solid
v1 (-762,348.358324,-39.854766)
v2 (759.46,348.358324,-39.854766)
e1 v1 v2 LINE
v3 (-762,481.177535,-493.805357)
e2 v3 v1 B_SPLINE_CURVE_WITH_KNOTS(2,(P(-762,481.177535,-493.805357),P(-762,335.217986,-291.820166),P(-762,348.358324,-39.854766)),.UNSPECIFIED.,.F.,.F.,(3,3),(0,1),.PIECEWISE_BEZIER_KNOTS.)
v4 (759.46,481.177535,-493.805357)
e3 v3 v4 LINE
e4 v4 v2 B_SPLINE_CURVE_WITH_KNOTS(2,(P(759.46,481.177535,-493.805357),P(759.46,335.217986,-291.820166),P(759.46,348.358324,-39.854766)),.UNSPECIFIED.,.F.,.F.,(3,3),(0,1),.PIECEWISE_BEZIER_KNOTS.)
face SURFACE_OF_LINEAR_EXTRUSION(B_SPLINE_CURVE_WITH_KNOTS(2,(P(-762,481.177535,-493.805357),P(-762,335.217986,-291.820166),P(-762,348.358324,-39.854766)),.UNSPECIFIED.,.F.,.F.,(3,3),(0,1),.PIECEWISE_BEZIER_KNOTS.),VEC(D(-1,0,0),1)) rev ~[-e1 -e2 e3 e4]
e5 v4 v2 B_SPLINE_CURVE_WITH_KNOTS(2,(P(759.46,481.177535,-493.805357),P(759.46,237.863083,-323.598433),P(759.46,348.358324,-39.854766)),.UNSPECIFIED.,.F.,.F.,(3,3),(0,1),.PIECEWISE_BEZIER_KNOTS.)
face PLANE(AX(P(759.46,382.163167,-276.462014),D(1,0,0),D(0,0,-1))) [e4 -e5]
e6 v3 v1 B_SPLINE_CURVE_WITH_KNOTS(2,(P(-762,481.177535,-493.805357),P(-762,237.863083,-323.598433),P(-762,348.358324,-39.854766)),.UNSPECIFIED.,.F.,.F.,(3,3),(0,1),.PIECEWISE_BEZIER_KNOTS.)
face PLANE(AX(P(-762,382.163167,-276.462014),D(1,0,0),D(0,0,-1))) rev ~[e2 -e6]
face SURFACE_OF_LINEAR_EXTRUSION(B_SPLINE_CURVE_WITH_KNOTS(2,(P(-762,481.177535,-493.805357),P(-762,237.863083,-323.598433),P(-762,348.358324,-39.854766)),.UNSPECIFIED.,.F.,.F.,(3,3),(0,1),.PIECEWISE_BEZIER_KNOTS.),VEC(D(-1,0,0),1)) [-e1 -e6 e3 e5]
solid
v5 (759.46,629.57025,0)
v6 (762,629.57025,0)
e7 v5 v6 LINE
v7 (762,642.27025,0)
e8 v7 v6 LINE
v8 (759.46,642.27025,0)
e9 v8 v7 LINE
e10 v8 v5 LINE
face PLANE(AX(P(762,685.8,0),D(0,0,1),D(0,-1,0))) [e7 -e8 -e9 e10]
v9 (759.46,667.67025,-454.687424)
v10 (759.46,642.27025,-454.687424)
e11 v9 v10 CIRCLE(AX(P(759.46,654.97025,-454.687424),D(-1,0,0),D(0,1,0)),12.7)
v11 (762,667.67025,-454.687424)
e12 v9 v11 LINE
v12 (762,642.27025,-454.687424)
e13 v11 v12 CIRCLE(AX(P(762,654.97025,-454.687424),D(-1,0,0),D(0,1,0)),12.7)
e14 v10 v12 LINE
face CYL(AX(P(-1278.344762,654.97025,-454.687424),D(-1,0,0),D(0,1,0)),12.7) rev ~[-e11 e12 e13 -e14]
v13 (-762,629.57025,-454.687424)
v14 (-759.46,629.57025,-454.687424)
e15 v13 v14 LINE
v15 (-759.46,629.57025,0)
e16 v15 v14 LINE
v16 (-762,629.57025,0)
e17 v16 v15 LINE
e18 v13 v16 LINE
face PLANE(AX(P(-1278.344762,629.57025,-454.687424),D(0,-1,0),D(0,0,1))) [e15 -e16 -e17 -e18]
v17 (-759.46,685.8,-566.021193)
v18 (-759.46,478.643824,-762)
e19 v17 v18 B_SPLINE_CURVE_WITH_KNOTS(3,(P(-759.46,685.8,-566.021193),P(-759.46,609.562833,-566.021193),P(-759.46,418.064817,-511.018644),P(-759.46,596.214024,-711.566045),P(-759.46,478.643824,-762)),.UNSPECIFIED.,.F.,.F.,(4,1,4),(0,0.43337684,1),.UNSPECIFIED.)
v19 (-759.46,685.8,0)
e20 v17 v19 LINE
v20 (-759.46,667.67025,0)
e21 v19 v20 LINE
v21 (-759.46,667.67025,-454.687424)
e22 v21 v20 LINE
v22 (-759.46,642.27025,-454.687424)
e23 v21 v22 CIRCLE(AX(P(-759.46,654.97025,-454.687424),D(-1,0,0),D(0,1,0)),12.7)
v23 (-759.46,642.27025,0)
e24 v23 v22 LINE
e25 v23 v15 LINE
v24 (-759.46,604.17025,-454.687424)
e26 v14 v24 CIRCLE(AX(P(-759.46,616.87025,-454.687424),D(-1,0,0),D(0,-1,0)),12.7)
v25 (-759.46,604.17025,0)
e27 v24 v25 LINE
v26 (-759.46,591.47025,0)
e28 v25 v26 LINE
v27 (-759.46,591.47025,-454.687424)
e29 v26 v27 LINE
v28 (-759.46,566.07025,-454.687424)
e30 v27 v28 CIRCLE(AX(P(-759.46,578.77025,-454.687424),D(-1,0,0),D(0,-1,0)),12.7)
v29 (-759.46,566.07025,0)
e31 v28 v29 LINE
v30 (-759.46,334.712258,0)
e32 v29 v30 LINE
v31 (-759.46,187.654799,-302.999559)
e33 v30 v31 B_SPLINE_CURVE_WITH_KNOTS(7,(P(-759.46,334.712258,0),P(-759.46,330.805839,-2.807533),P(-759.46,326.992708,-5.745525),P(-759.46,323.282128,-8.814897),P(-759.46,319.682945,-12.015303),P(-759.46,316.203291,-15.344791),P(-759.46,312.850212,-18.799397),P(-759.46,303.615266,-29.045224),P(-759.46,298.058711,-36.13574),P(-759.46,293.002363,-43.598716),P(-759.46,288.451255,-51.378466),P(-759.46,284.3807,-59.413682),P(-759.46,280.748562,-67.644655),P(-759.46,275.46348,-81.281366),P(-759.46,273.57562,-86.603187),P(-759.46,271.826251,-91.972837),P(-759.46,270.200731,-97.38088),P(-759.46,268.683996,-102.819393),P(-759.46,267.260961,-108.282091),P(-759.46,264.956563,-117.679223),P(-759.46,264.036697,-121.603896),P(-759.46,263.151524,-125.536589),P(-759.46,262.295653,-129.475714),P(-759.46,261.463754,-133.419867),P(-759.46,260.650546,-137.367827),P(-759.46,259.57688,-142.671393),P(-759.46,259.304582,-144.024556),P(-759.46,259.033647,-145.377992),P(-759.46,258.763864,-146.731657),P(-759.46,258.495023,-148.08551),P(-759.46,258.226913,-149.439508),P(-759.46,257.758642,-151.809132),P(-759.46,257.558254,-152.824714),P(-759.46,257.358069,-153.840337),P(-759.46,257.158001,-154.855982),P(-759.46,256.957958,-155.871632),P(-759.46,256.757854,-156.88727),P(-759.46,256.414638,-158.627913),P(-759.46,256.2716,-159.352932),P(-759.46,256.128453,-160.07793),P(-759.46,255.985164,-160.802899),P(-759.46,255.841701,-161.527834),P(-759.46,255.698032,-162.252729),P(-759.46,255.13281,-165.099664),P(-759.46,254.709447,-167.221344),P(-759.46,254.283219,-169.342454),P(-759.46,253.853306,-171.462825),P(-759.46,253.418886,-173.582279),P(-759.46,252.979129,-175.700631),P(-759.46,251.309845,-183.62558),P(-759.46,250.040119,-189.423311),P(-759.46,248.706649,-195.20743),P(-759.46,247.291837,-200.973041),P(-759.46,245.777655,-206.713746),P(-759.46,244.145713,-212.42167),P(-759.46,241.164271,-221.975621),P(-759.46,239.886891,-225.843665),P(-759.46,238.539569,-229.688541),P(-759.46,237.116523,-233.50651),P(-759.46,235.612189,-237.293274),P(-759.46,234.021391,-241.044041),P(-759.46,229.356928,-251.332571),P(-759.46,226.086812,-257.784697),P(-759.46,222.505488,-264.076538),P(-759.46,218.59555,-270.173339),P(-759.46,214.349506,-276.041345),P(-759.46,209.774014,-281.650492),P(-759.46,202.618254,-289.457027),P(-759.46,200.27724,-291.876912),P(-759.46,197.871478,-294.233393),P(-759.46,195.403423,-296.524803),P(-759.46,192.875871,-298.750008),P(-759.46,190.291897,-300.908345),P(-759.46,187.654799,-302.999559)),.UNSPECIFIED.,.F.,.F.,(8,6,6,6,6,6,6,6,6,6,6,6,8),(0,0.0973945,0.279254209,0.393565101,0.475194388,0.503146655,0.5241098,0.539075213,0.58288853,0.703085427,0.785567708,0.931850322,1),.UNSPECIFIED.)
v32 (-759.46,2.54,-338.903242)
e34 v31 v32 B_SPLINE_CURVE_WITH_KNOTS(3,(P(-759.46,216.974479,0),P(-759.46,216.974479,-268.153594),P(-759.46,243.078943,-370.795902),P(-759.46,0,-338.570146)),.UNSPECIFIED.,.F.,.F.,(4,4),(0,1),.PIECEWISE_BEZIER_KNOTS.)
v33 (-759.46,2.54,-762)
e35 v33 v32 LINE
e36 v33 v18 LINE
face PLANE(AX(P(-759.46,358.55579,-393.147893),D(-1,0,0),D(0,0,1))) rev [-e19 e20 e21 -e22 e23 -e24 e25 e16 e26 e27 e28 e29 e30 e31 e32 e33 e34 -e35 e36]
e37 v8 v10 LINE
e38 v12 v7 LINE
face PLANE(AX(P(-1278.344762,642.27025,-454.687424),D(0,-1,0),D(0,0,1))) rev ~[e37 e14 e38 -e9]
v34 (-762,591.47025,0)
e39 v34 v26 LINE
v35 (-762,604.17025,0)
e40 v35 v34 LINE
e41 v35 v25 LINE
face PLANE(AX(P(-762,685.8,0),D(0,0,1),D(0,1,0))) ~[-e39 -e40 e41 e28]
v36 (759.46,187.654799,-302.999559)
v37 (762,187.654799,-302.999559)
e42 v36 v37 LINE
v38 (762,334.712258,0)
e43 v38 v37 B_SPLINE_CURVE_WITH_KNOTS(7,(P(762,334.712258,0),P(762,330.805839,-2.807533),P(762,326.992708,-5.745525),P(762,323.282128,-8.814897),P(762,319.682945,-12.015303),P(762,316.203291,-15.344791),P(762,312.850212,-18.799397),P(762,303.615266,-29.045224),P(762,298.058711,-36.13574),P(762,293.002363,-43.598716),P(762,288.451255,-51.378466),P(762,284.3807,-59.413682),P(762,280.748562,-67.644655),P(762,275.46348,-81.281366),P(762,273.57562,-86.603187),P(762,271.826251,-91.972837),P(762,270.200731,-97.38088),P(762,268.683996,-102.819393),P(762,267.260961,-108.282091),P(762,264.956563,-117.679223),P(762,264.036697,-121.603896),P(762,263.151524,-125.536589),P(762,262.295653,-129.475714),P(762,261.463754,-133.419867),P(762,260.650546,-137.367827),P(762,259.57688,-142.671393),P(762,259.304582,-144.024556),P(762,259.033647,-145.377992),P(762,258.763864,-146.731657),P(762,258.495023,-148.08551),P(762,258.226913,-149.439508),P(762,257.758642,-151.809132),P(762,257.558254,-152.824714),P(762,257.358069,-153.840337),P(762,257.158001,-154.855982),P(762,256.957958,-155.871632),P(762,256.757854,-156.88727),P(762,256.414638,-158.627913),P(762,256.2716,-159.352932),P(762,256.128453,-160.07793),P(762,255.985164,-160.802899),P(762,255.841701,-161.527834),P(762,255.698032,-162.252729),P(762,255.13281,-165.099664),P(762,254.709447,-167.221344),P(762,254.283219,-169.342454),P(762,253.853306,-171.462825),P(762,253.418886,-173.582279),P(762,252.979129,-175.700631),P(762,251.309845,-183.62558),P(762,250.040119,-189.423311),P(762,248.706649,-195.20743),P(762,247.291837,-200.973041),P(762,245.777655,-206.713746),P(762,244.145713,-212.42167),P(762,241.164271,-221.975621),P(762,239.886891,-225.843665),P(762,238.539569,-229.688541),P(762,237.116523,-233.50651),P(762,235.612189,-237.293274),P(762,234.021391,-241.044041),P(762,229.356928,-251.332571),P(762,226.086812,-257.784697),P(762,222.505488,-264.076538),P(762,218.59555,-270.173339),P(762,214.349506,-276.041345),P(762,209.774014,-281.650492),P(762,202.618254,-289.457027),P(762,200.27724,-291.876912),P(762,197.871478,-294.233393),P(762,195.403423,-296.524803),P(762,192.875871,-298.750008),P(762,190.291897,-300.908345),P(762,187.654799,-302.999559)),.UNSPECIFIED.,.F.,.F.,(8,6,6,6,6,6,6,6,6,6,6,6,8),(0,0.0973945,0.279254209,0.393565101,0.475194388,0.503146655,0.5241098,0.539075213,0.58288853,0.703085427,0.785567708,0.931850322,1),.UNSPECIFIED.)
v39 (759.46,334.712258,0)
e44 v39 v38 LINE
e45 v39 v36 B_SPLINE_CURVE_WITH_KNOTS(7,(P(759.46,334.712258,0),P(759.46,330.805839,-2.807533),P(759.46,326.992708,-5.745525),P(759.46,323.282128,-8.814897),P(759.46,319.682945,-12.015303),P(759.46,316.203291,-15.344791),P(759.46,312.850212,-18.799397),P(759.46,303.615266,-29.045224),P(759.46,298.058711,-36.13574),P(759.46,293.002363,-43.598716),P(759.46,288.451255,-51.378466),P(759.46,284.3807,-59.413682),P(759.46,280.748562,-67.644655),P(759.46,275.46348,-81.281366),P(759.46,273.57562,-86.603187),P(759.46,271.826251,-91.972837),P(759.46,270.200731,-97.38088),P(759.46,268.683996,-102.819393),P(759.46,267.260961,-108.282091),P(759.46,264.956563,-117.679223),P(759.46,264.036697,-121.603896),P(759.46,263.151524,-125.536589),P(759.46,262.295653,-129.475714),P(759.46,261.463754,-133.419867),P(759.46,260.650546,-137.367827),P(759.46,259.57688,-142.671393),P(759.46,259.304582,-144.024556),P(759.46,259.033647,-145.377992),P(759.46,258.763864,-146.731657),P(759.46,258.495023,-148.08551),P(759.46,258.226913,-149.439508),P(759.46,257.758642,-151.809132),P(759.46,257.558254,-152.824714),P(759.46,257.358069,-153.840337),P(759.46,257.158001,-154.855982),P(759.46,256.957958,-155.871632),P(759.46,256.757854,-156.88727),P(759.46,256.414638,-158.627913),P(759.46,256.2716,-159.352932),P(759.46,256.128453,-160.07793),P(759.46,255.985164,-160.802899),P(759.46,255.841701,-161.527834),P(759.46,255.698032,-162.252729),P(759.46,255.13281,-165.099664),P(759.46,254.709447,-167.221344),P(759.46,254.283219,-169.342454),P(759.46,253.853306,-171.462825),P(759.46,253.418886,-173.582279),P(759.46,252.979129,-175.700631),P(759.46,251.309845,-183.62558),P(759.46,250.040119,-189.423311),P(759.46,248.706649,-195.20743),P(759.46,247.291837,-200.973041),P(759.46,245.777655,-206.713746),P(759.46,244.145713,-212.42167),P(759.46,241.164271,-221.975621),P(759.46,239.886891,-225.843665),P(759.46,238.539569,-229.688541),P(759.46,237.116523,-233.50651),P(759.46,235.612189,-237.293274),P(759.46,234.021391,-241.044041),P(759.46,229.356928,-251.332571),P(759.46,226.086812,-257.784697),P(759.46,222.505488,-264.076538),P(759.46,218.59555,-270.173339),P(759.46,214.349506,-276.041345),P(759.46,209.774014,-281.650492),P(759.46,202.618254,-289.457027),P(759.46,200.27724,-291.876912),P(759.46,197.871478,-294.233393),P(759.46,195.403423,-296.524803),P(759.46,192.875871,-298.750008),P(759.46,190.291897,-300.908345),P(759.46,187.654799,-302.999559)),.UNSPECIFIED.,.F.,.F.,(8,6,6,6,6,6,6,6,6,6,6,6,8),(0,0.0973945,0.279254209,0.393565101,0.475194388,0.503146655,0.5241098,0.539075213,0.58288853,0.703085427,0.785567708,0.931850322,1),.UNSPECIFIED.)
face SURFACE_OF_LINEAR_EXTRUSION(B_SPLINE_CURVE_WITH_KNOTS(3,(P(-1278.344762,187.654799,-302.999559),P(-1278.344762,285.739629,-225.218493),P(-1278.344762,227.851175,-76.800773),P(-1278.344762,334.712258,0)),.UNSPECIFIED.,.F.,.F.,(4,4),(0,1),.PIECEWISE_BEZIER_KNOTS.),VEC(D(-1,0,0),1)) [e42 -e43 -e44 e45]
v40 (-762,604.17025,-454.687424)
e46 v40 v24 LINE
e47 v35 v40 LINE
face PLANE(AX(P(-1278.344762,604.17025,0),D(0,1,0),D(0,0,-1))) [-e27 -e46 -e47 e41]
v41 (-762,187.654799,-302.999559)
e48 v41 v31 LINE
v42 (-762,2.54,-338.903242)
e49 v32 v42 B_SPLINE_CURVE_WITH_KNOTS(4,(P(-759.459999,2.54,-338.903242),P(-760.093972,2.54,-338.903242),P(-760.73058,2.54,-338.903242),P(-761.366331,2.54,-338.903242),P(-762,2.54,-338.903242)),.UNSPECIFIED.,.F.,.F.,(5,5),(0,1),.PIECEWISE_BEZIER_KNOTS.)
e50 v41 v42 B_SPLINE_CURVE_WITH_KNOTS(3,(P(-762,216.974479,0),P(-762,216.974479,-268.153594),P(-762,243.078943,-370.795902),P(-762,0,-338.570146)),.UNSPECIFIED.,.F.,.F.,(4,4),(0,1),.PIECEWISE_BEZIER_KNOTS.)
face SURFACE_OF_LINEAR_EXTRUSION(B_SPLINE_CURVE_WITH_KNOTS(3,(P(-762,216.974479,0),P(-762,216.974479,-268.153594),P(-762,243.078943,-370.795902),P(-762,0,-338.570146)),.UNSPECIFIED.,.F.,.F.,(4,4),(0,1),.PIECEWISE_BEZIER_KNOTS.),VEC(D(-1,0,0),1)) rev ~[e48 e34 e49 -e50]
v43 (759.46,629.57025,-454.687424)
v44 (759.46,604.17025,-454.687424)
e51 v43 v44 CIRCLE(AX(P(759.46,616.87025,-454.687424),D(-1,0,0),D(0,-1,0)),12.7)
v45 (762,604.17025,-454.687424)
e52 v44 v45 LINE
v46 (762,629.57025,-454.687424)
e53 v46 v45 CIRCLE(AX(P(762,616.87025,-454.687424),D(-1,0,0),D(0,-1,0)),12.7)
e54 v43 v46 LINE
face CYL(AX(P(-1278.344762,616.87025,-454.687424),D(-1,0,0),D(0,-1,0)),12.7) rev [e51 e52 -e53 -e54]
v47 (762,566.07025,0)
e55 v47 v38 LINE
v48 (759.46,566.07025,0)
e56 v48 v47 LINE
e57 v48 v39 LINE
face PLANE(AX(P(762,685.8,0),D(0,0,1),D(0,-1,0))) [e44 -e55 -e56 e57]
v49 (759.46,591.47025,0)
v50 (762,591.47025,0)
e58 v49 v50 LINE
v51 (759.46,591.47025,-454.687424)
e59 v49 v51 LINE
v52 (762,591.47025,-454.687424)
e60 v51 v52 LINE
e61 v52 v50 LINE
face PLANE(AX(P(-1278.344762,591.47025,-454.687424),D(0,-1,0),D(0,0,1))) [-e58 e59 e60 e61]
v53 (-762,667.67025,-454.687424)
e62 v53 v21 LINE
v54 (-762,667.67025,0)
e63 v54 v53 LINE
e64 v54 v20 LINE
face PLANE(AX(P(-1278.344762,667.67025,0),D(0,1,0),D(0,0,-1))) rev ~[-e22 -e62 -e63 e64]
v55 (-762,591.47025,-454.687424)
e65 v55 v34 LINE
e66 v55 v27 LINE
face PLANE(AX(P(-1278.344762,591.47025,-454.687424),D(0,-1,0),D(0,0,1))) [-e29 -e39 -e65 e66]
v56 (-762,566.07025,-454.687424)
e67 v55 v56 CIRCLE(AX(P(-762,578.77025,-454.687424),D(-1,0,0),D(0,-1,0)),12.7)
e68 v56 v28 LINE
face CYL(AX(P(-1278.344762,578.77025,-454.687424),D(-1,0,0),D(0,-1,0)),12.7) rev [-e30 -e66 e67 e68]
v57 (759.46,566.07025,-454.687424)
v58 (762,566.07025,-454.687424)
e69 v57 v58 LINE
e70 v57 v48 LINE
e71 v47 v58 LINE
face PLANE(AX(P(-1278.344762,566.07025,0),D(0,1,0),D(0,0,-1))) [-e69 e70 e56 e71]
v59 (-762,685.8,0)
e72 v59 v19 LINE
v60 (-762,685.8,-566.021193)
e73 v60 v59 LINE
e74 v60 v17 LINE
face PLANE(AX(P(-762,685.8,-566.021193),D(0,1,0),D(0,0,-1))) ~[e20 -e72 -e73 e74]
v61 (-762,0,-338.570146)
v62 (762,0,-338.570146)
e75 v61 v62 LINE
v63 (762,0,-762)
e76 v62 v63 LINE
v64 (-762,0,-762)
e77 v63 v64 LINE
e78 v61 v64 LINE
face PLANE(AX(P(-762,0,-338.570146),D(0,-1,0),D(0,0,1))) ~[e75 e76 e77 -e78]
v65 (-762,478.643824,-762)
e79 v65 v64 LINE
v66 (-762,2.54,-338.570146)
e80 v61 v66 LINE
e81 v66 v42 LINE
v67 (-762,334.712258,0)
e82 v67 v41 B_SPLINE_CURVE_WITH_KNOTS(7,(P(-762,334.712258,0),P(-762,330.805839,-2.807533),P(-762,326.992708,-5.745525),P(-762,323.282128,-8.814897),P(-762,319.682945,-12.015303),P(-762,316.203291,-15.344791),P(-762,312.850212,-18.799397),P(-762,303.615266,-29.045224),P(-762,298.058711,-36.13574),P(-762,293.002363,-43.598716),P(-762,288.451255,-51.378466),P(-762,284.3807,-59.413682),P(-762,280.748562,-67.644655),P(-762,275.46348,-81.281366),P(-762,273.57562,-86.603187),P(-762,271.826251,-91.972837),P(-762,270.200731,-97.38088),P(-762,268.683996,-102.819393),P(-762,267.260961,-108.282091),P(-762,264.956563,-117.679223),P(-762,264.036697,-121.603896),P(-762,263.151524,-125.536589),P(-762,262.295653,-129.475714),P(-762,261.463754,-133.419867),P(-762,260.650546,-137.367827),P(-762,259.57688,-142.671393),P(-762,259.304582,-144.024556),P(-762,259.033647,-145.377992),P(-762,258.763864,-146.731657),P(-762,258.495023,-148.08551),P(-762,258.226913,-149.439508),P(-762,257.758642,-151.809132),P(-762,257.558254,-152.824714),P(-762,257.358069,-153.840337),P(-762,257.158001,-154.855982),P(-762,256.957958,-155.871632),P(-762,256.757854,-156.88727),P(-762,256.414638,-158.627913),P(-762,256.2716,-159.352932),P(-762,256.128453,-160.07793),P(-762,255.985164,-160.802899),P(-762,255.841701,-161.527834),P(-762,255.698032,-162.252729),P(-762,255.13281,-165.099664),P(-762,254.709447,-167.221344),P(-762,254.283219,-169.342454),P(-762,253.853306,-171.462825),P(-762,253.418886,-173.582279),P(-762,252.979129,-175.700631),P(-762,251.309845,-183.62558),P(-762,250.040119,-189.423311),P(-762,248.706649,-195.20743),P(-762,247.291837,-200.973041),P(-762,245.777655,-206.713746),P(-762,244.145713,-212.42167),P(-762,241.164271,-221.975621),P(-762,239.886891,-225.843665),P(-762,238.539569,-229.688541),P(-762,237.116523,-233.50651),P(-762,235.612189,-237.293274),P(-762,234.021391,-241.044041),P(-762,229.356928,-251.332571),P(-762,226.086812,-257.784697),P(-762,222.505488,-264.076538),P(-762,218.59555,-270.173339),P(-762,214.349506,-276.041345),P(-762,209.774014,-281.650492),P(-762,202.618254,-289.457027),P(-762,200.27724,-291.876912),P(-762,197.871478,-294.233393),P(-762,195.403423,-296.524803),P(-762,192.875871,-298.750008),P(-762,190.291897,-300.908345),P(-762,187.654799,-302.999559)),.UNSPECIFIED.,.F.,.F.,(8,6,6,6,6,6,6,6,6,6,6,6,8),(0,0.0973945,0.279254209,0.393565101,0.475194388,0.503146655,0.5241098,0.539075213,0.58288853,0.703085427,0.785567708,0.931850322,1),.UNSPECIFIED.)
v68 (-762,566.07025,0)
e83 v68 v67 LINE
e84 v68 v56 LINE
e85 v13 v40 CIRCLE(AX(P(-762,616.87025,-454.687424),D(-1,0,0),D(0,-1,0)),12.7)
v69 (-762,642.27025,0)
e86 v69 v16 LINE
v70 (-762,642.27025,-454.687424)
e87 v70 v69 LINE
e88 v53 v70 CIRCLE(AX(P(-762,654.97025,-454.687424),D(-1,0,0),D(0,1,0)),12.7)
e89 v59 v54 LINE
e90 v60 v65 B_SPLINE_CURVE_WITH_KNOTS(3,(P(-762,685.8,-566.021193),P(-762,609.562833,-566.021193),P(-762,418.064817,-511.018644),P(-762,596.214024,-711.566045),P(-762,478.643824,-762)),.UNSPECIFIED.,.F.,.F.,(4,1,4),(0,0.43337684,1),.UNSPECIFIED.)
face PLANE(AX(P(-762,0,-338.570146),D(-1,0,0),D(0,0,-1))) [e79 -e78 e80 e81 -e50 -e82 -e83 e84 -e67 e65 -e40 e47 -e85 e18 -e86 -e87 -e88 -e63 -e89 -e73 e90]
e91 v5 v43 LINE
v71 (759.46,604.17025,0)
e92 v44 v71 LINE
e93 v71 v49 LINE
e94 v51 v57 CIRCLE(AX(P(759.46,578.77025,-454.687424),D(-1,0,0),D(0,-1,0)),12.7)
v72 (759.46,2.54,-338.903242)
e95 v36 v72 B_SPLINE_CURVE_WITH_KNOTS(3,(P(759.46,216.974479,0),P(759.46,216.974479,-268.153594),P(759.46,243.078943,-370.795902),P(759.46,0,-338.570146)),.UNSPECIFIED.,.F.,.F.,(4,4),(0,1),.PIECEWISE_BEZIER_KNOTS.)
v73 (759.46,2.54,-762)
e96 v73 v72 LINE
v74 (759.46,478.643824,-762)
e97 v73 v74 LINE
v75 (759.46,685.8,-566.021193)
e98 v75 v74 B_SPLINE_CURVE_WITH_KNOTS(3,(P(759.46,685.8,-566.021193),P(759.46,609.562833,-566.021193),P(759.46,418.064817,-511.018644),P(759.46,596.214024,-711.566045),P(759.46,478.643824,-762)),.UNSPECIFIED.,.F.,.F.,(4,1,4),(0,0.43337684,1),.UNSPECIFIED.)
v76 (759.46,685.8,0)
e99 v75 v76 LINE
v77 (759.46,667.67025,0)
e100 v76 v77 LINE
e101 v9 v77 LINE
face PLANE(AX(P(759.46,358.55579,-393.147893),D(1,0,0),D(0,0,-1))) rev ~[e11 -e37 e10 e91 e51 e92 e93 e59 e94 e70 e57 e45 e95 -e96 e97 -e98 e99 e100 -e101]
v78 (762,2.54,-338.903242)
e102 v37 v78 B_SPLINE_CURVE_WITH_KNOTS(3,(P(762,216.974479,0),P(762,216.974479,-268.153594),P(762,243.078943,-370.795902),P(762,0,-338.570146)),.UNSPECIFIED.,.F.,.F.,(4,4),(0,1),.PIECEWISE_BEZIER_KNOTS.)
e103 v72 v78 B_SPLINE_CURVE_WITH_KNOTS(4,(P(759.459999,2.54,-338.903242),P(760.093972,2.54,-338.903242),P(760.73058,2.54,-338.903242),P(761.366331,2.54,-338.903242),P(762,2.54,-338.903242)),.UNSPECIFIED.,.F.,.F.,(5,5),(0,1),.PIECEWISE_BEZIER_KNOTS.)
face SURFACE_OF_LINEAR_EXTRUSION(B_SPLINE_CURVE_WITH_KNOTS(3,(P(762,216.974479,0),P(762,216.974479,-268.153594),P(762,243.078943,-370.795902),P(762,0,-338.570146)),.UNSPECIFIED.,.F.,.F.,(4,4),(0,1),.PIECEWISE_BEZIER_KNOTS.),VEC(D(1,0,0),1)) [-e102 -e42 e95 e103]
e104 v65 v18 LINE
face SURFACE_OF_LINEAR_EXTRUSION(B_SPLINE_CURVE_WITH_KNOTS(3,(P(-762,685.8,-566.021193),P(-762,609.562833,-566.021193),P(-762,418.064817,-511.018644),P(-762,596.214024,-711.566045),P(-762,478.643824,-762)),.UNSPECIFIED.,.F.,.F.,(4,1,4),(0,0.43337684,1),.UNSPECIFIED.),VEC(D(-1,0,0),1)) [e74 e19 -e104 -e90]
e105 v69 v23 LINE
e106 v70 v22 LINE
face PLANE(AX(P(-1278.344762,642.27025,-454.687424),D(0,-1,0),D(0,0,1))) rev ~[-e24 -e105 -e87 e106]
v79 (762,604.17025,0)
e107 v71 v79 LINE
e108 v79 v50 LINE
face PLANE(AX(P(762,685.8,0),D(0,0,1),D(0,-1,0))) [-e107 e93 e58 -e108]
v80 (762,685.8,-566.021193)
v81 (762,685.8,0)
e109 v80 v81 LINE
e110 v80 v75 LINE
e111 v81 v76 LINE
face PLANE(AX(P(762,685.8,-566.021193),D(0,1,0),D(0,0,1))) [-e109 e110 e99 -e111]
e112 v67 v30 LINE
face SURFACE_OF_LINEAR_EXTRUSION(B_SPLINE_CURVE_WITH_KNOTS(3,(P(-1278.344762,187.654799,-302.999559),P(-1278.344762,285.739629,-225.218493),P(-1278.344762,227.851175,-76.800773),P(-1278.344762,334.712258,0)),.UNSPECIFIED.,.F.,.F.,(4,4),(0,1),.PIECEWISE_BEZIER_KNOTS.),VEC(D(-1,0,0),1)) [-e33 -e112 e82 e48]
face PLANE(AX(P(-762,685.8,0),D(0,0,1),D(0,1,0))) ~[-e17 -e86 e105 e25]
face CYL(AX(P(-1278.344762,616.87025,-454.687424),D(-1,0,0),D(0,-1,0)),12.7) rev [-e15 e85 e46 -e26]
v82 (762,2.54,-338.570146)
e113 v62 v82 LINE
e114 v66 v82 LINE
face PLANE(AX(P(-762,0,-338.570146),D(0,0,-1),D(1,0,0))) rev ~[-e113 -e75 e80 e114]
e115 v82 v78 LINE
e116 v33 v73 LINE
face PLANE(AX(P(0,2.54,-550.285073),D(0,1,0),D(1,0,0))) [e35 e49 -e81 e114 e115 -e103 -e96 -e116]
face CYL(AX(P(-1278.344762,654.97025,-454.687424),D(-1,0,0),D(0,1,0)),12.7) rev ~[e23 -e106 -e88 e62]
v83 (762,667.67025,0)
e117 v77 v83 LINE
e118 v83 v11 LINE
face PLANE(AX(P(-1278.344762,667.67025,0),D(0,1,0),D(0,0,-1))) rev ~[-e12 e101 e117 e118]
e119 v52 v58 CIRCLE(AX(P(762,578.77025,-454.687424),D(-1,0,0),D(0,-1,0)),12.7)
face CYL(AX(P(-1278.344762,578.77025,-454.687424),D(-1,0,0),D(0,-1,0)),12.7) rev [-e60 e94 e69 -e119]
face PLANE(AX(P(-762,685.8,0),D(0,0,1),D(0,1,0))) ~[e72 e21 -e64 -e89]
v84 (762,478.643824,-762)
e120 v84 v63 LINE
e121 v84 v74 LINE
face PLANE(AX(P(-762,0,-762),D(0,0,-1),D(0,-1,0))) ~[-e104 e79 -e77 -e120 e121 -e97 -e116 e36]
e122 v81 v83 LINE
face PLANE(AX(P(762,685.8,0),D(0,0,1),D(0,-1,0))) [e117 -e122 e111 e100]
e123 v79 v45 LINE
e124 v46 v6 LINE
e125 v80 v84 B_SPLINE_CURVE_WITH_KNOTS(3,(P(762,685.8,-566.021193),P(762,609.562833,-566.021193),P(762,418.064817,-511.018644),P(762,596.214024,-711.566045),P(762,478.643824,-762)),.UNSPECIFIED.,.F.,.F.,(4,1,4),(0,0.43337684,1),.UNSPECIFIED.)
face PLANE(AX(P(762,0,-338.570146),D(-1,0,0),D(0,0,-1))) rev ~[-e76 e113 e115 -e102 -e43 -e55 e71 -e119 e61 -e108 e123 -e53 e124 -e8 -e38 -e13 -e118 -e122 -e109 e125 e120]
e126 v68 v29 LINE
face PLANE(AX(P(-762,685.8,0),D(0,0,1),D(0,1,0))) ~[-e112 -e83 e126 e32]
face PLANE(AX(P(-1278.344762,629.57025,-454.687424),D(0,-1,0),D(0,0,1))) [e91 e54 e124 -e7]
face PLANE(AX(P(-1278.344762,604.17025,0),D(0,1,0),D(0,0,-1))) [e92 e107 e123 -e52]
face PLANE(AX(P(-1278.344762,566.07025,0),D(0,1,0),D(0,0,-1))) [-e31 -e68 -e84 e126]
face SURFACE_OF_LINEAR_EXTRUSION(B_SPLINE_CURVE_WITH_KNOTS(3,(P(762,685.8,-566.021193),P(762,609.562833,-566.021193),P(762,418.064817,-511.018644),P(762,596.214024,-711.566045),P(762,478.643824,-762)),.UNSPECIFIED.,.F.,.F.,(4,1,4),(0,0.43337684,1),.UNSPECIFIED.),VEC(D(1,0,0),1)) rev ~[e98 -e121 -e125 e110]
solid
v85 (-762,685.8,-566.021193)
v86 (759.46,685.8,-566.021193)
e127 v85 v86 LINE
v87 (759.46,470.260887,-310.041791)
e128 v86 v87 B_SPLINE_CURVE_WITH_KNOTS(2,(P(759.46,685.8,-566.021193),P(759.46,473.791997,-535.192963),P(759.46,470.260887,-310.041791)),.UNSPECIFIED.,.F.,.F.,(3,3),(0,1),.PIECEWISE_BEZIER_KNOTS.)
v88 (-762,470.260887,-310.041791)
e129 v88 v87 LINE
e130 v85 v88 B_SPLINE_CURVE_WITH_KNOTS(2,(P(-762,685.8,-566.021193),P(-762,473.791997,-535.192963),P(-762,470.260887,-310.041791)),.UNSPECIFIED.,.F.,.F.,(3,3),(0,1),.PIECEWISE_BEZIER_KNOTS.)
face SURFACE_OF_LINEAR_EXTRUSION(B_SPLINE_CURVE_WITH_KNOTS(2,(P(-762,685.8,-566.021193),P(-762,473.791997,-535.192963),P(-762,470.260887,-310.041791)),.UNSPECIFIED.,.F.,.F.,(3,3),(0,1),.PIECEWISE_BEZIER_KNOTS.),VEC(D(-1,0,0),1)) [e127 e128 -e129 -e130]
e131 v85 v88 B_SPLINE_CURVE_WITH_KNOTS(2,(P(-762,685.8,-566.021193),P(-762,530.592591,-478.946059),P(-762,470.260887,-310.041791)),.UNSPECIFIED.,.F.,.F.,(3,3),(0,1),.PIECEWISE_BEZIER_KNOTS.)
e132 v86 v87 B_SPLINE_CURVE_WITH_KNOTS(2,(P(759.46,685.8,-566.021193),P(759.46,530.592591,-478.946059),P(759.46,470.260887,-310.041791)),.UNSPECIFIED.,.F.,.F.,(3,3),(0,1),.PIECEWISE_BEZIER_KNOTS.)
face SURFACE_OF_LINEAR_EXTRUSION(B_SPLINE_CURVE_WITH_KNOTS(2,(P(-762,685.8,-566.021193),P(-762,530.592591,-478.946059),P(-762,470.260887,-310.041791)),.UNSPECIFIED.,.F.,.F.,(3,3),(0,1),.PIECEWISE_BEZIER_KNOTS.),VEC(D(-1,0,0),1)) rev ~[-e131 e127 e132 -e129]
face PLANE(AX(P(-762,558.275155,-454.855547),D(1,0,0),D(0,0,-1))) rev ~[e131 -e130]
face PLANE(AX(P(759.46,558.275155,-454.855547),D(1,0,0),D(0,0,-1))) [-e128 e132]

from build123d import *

# Parameters (mm, degrees)
BOSS_EXTRUDE1_START        = 762
BOSS_EXTRUDE1_DEPTH        = 2.54
BOSS_EXTRUDE3_DEPTH        = 759.46
BOSS_EXTRUDE3_DEPTH_BACK   = 762
BOSS_EXTRUDE3_2_DEPTH      = 759.46
BOSS_EXTRUDE3_2_DEPTH_BACK = 762
SKETCH13_W                 = 1524
SKETCH13_H                 = 423.429853573
BOSS_EXTRUDE4_DEPTH        = 2.54
CUT_EXTRUDE1_DEPTH         = 1278.344761778
CUT_EXTRUDE1_DEPTH_BACK    = 1278.344761778
CUT_EXTRUDE2_DEPTH         = 1278.344761778
CUT_EXTRUDE2_DEPTH_BACK    = 1278.344761778


with BuildPart() as part:
    # Sketch3 → Boss-Extrude1 (new body)
    with BuildSketch(Plane(origin=(0, 0, 0), x_dir=(0, 0, -1), z_dir=(1, 0, 0)).offset(BOSS_EXTRUDE1_START)):
        with BuildLine():
            Line((338.570146427, 0), (762, 0))
            Line((762, 0), (762, 478.643823899))
            add(Edge.make_bspline(
                [(566.02119263, 685.8), (566.02119263, 609.562833411), (511.018643959, 418.064816879), (711.566045078, 596.214023542), (762, 478.643823899)],
                knots=[0, 0, 0, 0, 0.43337684, 1, 1, 1, 1], degree=3))
            Line((566.02119263, 685.8), (0, 685.8))
            Line((0, 685.8), (0, 216.97447871))
            add(Edge.make_bspline(
                [(0, 216.97447871), (268.153594246, 216.97447871), (370.795901917, 243.07894269), (338.570146427, 0)],
                knots=[0, 0, 0, 0, 1, 1, 1, 1], degree=3))
        make_face()
    extrude(amount=-BOSS_EXTRUDE1_DEPTH)


with BuildPart() as body_2:
    # Mirror1: mirrored copy
    add(part.part.mirror(Plane(origin=(0, 0, 0), x_dir=(0, 0, 1), z_dir=(1, 0, 0))))


with BuildPart() as body_3:
    # Sketch8 → Boss-Extrude3 (new, two sides: drawn at the far end of the back side and taken through both)
    with BuildSketch(Plane(origin=(0, 0, 0), x_dir=(0, 0, -1), z_dir=(1, 0, 0)).offset(-BOSS_EXTRUDE3_DEPTH_BACK)):
        with BuildLine():
            add(Edge.make_bspline(
                [(566.02119263, 685.8), (478.94605907, 530.59259106), (310.041791286, 470.260887435)],
                knots=[0, 0, 0, 1, 1, 1], degree=2))
            add(Edge.make_bspline(
                [(566.02119263, 685.8), (535.192963113, 473.791997419), (310.041791286, 470.260887435)],
                knots=[0, 0, 0, 1, 1, 1], degree=2))
        make_face()
    extrude(amount=BOSS_EXTRUDE3_DEPTH + BOSS_EXTRUDE3_DEPTH_BACK)


with BuildPart() as body_4:
    # Sketch8 → Boss-Extrude3 2 (new, two sides: drawn at the far end of the back side and taken through both)
    with BuildSketch(Plane(origin=(0, 0, 0), x_dir=(0, 0, -1), z_dir=(1, 0, 0)).offset(-BOSS_EXTRUDE3_2_DEPTH_BACK)):
        with BuildLine():
            add(Edge.make_bspline(
                [(493.805357443, 481.17753493), (291.820165627, 335.217986135), (39.854765798, 348.358323747)],
                knots=[0, 0, 0, 1, 1, 1], degree=2))
            add(Edge.make_bspline(
                [(493.805357443, 481.17753493), (323.598432885, 237.863082713), (39.854765798, 348.358323747)],
                knots=[0, 0, 0, 1, 1, 1], degree=2))
        make_face()
    extrude(amount=BOSS_EXTRUDE3_2_DEPTH + BOSS_EXTRUDE3_2_DEPTH_BACK)


with BuildPart() as part_1:
    add(part.part)

    add(body_2.part)  # Boss-Extrude4 merges body 2
    # Sketch13 → Boss-Extrude4 (add)
    with BuildSketch(Plane(origin=(0, 0, 0), x_dir=(1, 0, 0), z_dir=(0, 1, 0))):
        with Locations((0, 550.285073214)):
            Rectangle(SKETCH13_W, SKETCH13_H)
    extrude(amount=BOSS_EXTRUDE4_DEPTH)

    # Sketch16 → Cut-Extrude1 (cut, two sides: drawn at the far end of the back side and taken through both)
    with BuildSketch(Plane(origin=(0, 0, 0), x_dir=(0, 0, -1), z_dir=(1, 0, 0)).offset(-CUT_EXTRUDE1_DEPTH_BACK)):
        with BuildLine():
            Line((0, 667.670249742), (454.687424311, 667.670249742))
            ThreePointArc((454.687424311, 667.670249742), (467.387424311, 654.970249742), (454.687424311, 642.270249742))
            Line((454.687424311, 642.270249742), (0, 642.270249742))
            ThreePointArc((0, 642.270249742), (-12.7, 654.970249742), (0, 667.670249742))
        make_face()
        with BuildLine():
            Line((0, 604.170249742), (454.687424311, 604.170249742))
            ThreePointArc((454.687424311, 604.170249742), (467.387424311, 616.870249742), (454.687424311, 629.570249742))
            Line((454.687424311, 629.570249742), (0, 629.570249742))
            ThreePointArc((0, 629.570249742), (-12.7, 616.870249742), (0, 604.170249742))
        make_face()
        with BuildLine():
            Line((0, 566.070249742), (454.687424311, 566.070249742))
            ThreePointArc((454.687424311, 566.070249742), (467.387424311, 578.770249742), (454.687424311, 591.470249742))
            Line((454.687424311, 591.470249742), (0, 591.470249742))
            ThreePointArc((0, 591.470249742), (-12.7, 578.770249742), (0, 566.070249742))
        make_face()
    extrude(amount=CUT_EXTRUDE1_DEPTH + CUT_EXTRUDE1_DEPTH_BACK, mode=Mode.SUBTRACT)

    # Sketch17 → Cut-Extrude2 (cut, two sides: drawn at the far end of the back side and taken through both)
    with BuildSketch(Plane(origin=(0, 0, 0), x_dir=(0, 0, -1), z_dir=(1, 0, 0)).offset(-CUT_EXTRUDE2_DEPTH_BACK)):
        with BuildLine():
            Line((0, 334.71225841), (0, 103.643051311))
            Line((0, 103.643051311), (302.999558796, 187.654799067))
            add(Edge.make_bspline(
                [(302.999558796, 187.654799067), (225.21849282, 285.739628908), (76.800772912, 227.85117527), (0, 334.71225841)],
                knots=[0, 0, 0, 0, 1, 1, 1, 1], degree=3))
        make_face()
    extrude(amount=CUT_EXTRUDE2_DEPTH + CUT_EXTRUDE2_DEPTH_BACK, mode=Mode.SUBTRACT)


solid = Compound([body_3.part, body_4.part, part_1.part])
